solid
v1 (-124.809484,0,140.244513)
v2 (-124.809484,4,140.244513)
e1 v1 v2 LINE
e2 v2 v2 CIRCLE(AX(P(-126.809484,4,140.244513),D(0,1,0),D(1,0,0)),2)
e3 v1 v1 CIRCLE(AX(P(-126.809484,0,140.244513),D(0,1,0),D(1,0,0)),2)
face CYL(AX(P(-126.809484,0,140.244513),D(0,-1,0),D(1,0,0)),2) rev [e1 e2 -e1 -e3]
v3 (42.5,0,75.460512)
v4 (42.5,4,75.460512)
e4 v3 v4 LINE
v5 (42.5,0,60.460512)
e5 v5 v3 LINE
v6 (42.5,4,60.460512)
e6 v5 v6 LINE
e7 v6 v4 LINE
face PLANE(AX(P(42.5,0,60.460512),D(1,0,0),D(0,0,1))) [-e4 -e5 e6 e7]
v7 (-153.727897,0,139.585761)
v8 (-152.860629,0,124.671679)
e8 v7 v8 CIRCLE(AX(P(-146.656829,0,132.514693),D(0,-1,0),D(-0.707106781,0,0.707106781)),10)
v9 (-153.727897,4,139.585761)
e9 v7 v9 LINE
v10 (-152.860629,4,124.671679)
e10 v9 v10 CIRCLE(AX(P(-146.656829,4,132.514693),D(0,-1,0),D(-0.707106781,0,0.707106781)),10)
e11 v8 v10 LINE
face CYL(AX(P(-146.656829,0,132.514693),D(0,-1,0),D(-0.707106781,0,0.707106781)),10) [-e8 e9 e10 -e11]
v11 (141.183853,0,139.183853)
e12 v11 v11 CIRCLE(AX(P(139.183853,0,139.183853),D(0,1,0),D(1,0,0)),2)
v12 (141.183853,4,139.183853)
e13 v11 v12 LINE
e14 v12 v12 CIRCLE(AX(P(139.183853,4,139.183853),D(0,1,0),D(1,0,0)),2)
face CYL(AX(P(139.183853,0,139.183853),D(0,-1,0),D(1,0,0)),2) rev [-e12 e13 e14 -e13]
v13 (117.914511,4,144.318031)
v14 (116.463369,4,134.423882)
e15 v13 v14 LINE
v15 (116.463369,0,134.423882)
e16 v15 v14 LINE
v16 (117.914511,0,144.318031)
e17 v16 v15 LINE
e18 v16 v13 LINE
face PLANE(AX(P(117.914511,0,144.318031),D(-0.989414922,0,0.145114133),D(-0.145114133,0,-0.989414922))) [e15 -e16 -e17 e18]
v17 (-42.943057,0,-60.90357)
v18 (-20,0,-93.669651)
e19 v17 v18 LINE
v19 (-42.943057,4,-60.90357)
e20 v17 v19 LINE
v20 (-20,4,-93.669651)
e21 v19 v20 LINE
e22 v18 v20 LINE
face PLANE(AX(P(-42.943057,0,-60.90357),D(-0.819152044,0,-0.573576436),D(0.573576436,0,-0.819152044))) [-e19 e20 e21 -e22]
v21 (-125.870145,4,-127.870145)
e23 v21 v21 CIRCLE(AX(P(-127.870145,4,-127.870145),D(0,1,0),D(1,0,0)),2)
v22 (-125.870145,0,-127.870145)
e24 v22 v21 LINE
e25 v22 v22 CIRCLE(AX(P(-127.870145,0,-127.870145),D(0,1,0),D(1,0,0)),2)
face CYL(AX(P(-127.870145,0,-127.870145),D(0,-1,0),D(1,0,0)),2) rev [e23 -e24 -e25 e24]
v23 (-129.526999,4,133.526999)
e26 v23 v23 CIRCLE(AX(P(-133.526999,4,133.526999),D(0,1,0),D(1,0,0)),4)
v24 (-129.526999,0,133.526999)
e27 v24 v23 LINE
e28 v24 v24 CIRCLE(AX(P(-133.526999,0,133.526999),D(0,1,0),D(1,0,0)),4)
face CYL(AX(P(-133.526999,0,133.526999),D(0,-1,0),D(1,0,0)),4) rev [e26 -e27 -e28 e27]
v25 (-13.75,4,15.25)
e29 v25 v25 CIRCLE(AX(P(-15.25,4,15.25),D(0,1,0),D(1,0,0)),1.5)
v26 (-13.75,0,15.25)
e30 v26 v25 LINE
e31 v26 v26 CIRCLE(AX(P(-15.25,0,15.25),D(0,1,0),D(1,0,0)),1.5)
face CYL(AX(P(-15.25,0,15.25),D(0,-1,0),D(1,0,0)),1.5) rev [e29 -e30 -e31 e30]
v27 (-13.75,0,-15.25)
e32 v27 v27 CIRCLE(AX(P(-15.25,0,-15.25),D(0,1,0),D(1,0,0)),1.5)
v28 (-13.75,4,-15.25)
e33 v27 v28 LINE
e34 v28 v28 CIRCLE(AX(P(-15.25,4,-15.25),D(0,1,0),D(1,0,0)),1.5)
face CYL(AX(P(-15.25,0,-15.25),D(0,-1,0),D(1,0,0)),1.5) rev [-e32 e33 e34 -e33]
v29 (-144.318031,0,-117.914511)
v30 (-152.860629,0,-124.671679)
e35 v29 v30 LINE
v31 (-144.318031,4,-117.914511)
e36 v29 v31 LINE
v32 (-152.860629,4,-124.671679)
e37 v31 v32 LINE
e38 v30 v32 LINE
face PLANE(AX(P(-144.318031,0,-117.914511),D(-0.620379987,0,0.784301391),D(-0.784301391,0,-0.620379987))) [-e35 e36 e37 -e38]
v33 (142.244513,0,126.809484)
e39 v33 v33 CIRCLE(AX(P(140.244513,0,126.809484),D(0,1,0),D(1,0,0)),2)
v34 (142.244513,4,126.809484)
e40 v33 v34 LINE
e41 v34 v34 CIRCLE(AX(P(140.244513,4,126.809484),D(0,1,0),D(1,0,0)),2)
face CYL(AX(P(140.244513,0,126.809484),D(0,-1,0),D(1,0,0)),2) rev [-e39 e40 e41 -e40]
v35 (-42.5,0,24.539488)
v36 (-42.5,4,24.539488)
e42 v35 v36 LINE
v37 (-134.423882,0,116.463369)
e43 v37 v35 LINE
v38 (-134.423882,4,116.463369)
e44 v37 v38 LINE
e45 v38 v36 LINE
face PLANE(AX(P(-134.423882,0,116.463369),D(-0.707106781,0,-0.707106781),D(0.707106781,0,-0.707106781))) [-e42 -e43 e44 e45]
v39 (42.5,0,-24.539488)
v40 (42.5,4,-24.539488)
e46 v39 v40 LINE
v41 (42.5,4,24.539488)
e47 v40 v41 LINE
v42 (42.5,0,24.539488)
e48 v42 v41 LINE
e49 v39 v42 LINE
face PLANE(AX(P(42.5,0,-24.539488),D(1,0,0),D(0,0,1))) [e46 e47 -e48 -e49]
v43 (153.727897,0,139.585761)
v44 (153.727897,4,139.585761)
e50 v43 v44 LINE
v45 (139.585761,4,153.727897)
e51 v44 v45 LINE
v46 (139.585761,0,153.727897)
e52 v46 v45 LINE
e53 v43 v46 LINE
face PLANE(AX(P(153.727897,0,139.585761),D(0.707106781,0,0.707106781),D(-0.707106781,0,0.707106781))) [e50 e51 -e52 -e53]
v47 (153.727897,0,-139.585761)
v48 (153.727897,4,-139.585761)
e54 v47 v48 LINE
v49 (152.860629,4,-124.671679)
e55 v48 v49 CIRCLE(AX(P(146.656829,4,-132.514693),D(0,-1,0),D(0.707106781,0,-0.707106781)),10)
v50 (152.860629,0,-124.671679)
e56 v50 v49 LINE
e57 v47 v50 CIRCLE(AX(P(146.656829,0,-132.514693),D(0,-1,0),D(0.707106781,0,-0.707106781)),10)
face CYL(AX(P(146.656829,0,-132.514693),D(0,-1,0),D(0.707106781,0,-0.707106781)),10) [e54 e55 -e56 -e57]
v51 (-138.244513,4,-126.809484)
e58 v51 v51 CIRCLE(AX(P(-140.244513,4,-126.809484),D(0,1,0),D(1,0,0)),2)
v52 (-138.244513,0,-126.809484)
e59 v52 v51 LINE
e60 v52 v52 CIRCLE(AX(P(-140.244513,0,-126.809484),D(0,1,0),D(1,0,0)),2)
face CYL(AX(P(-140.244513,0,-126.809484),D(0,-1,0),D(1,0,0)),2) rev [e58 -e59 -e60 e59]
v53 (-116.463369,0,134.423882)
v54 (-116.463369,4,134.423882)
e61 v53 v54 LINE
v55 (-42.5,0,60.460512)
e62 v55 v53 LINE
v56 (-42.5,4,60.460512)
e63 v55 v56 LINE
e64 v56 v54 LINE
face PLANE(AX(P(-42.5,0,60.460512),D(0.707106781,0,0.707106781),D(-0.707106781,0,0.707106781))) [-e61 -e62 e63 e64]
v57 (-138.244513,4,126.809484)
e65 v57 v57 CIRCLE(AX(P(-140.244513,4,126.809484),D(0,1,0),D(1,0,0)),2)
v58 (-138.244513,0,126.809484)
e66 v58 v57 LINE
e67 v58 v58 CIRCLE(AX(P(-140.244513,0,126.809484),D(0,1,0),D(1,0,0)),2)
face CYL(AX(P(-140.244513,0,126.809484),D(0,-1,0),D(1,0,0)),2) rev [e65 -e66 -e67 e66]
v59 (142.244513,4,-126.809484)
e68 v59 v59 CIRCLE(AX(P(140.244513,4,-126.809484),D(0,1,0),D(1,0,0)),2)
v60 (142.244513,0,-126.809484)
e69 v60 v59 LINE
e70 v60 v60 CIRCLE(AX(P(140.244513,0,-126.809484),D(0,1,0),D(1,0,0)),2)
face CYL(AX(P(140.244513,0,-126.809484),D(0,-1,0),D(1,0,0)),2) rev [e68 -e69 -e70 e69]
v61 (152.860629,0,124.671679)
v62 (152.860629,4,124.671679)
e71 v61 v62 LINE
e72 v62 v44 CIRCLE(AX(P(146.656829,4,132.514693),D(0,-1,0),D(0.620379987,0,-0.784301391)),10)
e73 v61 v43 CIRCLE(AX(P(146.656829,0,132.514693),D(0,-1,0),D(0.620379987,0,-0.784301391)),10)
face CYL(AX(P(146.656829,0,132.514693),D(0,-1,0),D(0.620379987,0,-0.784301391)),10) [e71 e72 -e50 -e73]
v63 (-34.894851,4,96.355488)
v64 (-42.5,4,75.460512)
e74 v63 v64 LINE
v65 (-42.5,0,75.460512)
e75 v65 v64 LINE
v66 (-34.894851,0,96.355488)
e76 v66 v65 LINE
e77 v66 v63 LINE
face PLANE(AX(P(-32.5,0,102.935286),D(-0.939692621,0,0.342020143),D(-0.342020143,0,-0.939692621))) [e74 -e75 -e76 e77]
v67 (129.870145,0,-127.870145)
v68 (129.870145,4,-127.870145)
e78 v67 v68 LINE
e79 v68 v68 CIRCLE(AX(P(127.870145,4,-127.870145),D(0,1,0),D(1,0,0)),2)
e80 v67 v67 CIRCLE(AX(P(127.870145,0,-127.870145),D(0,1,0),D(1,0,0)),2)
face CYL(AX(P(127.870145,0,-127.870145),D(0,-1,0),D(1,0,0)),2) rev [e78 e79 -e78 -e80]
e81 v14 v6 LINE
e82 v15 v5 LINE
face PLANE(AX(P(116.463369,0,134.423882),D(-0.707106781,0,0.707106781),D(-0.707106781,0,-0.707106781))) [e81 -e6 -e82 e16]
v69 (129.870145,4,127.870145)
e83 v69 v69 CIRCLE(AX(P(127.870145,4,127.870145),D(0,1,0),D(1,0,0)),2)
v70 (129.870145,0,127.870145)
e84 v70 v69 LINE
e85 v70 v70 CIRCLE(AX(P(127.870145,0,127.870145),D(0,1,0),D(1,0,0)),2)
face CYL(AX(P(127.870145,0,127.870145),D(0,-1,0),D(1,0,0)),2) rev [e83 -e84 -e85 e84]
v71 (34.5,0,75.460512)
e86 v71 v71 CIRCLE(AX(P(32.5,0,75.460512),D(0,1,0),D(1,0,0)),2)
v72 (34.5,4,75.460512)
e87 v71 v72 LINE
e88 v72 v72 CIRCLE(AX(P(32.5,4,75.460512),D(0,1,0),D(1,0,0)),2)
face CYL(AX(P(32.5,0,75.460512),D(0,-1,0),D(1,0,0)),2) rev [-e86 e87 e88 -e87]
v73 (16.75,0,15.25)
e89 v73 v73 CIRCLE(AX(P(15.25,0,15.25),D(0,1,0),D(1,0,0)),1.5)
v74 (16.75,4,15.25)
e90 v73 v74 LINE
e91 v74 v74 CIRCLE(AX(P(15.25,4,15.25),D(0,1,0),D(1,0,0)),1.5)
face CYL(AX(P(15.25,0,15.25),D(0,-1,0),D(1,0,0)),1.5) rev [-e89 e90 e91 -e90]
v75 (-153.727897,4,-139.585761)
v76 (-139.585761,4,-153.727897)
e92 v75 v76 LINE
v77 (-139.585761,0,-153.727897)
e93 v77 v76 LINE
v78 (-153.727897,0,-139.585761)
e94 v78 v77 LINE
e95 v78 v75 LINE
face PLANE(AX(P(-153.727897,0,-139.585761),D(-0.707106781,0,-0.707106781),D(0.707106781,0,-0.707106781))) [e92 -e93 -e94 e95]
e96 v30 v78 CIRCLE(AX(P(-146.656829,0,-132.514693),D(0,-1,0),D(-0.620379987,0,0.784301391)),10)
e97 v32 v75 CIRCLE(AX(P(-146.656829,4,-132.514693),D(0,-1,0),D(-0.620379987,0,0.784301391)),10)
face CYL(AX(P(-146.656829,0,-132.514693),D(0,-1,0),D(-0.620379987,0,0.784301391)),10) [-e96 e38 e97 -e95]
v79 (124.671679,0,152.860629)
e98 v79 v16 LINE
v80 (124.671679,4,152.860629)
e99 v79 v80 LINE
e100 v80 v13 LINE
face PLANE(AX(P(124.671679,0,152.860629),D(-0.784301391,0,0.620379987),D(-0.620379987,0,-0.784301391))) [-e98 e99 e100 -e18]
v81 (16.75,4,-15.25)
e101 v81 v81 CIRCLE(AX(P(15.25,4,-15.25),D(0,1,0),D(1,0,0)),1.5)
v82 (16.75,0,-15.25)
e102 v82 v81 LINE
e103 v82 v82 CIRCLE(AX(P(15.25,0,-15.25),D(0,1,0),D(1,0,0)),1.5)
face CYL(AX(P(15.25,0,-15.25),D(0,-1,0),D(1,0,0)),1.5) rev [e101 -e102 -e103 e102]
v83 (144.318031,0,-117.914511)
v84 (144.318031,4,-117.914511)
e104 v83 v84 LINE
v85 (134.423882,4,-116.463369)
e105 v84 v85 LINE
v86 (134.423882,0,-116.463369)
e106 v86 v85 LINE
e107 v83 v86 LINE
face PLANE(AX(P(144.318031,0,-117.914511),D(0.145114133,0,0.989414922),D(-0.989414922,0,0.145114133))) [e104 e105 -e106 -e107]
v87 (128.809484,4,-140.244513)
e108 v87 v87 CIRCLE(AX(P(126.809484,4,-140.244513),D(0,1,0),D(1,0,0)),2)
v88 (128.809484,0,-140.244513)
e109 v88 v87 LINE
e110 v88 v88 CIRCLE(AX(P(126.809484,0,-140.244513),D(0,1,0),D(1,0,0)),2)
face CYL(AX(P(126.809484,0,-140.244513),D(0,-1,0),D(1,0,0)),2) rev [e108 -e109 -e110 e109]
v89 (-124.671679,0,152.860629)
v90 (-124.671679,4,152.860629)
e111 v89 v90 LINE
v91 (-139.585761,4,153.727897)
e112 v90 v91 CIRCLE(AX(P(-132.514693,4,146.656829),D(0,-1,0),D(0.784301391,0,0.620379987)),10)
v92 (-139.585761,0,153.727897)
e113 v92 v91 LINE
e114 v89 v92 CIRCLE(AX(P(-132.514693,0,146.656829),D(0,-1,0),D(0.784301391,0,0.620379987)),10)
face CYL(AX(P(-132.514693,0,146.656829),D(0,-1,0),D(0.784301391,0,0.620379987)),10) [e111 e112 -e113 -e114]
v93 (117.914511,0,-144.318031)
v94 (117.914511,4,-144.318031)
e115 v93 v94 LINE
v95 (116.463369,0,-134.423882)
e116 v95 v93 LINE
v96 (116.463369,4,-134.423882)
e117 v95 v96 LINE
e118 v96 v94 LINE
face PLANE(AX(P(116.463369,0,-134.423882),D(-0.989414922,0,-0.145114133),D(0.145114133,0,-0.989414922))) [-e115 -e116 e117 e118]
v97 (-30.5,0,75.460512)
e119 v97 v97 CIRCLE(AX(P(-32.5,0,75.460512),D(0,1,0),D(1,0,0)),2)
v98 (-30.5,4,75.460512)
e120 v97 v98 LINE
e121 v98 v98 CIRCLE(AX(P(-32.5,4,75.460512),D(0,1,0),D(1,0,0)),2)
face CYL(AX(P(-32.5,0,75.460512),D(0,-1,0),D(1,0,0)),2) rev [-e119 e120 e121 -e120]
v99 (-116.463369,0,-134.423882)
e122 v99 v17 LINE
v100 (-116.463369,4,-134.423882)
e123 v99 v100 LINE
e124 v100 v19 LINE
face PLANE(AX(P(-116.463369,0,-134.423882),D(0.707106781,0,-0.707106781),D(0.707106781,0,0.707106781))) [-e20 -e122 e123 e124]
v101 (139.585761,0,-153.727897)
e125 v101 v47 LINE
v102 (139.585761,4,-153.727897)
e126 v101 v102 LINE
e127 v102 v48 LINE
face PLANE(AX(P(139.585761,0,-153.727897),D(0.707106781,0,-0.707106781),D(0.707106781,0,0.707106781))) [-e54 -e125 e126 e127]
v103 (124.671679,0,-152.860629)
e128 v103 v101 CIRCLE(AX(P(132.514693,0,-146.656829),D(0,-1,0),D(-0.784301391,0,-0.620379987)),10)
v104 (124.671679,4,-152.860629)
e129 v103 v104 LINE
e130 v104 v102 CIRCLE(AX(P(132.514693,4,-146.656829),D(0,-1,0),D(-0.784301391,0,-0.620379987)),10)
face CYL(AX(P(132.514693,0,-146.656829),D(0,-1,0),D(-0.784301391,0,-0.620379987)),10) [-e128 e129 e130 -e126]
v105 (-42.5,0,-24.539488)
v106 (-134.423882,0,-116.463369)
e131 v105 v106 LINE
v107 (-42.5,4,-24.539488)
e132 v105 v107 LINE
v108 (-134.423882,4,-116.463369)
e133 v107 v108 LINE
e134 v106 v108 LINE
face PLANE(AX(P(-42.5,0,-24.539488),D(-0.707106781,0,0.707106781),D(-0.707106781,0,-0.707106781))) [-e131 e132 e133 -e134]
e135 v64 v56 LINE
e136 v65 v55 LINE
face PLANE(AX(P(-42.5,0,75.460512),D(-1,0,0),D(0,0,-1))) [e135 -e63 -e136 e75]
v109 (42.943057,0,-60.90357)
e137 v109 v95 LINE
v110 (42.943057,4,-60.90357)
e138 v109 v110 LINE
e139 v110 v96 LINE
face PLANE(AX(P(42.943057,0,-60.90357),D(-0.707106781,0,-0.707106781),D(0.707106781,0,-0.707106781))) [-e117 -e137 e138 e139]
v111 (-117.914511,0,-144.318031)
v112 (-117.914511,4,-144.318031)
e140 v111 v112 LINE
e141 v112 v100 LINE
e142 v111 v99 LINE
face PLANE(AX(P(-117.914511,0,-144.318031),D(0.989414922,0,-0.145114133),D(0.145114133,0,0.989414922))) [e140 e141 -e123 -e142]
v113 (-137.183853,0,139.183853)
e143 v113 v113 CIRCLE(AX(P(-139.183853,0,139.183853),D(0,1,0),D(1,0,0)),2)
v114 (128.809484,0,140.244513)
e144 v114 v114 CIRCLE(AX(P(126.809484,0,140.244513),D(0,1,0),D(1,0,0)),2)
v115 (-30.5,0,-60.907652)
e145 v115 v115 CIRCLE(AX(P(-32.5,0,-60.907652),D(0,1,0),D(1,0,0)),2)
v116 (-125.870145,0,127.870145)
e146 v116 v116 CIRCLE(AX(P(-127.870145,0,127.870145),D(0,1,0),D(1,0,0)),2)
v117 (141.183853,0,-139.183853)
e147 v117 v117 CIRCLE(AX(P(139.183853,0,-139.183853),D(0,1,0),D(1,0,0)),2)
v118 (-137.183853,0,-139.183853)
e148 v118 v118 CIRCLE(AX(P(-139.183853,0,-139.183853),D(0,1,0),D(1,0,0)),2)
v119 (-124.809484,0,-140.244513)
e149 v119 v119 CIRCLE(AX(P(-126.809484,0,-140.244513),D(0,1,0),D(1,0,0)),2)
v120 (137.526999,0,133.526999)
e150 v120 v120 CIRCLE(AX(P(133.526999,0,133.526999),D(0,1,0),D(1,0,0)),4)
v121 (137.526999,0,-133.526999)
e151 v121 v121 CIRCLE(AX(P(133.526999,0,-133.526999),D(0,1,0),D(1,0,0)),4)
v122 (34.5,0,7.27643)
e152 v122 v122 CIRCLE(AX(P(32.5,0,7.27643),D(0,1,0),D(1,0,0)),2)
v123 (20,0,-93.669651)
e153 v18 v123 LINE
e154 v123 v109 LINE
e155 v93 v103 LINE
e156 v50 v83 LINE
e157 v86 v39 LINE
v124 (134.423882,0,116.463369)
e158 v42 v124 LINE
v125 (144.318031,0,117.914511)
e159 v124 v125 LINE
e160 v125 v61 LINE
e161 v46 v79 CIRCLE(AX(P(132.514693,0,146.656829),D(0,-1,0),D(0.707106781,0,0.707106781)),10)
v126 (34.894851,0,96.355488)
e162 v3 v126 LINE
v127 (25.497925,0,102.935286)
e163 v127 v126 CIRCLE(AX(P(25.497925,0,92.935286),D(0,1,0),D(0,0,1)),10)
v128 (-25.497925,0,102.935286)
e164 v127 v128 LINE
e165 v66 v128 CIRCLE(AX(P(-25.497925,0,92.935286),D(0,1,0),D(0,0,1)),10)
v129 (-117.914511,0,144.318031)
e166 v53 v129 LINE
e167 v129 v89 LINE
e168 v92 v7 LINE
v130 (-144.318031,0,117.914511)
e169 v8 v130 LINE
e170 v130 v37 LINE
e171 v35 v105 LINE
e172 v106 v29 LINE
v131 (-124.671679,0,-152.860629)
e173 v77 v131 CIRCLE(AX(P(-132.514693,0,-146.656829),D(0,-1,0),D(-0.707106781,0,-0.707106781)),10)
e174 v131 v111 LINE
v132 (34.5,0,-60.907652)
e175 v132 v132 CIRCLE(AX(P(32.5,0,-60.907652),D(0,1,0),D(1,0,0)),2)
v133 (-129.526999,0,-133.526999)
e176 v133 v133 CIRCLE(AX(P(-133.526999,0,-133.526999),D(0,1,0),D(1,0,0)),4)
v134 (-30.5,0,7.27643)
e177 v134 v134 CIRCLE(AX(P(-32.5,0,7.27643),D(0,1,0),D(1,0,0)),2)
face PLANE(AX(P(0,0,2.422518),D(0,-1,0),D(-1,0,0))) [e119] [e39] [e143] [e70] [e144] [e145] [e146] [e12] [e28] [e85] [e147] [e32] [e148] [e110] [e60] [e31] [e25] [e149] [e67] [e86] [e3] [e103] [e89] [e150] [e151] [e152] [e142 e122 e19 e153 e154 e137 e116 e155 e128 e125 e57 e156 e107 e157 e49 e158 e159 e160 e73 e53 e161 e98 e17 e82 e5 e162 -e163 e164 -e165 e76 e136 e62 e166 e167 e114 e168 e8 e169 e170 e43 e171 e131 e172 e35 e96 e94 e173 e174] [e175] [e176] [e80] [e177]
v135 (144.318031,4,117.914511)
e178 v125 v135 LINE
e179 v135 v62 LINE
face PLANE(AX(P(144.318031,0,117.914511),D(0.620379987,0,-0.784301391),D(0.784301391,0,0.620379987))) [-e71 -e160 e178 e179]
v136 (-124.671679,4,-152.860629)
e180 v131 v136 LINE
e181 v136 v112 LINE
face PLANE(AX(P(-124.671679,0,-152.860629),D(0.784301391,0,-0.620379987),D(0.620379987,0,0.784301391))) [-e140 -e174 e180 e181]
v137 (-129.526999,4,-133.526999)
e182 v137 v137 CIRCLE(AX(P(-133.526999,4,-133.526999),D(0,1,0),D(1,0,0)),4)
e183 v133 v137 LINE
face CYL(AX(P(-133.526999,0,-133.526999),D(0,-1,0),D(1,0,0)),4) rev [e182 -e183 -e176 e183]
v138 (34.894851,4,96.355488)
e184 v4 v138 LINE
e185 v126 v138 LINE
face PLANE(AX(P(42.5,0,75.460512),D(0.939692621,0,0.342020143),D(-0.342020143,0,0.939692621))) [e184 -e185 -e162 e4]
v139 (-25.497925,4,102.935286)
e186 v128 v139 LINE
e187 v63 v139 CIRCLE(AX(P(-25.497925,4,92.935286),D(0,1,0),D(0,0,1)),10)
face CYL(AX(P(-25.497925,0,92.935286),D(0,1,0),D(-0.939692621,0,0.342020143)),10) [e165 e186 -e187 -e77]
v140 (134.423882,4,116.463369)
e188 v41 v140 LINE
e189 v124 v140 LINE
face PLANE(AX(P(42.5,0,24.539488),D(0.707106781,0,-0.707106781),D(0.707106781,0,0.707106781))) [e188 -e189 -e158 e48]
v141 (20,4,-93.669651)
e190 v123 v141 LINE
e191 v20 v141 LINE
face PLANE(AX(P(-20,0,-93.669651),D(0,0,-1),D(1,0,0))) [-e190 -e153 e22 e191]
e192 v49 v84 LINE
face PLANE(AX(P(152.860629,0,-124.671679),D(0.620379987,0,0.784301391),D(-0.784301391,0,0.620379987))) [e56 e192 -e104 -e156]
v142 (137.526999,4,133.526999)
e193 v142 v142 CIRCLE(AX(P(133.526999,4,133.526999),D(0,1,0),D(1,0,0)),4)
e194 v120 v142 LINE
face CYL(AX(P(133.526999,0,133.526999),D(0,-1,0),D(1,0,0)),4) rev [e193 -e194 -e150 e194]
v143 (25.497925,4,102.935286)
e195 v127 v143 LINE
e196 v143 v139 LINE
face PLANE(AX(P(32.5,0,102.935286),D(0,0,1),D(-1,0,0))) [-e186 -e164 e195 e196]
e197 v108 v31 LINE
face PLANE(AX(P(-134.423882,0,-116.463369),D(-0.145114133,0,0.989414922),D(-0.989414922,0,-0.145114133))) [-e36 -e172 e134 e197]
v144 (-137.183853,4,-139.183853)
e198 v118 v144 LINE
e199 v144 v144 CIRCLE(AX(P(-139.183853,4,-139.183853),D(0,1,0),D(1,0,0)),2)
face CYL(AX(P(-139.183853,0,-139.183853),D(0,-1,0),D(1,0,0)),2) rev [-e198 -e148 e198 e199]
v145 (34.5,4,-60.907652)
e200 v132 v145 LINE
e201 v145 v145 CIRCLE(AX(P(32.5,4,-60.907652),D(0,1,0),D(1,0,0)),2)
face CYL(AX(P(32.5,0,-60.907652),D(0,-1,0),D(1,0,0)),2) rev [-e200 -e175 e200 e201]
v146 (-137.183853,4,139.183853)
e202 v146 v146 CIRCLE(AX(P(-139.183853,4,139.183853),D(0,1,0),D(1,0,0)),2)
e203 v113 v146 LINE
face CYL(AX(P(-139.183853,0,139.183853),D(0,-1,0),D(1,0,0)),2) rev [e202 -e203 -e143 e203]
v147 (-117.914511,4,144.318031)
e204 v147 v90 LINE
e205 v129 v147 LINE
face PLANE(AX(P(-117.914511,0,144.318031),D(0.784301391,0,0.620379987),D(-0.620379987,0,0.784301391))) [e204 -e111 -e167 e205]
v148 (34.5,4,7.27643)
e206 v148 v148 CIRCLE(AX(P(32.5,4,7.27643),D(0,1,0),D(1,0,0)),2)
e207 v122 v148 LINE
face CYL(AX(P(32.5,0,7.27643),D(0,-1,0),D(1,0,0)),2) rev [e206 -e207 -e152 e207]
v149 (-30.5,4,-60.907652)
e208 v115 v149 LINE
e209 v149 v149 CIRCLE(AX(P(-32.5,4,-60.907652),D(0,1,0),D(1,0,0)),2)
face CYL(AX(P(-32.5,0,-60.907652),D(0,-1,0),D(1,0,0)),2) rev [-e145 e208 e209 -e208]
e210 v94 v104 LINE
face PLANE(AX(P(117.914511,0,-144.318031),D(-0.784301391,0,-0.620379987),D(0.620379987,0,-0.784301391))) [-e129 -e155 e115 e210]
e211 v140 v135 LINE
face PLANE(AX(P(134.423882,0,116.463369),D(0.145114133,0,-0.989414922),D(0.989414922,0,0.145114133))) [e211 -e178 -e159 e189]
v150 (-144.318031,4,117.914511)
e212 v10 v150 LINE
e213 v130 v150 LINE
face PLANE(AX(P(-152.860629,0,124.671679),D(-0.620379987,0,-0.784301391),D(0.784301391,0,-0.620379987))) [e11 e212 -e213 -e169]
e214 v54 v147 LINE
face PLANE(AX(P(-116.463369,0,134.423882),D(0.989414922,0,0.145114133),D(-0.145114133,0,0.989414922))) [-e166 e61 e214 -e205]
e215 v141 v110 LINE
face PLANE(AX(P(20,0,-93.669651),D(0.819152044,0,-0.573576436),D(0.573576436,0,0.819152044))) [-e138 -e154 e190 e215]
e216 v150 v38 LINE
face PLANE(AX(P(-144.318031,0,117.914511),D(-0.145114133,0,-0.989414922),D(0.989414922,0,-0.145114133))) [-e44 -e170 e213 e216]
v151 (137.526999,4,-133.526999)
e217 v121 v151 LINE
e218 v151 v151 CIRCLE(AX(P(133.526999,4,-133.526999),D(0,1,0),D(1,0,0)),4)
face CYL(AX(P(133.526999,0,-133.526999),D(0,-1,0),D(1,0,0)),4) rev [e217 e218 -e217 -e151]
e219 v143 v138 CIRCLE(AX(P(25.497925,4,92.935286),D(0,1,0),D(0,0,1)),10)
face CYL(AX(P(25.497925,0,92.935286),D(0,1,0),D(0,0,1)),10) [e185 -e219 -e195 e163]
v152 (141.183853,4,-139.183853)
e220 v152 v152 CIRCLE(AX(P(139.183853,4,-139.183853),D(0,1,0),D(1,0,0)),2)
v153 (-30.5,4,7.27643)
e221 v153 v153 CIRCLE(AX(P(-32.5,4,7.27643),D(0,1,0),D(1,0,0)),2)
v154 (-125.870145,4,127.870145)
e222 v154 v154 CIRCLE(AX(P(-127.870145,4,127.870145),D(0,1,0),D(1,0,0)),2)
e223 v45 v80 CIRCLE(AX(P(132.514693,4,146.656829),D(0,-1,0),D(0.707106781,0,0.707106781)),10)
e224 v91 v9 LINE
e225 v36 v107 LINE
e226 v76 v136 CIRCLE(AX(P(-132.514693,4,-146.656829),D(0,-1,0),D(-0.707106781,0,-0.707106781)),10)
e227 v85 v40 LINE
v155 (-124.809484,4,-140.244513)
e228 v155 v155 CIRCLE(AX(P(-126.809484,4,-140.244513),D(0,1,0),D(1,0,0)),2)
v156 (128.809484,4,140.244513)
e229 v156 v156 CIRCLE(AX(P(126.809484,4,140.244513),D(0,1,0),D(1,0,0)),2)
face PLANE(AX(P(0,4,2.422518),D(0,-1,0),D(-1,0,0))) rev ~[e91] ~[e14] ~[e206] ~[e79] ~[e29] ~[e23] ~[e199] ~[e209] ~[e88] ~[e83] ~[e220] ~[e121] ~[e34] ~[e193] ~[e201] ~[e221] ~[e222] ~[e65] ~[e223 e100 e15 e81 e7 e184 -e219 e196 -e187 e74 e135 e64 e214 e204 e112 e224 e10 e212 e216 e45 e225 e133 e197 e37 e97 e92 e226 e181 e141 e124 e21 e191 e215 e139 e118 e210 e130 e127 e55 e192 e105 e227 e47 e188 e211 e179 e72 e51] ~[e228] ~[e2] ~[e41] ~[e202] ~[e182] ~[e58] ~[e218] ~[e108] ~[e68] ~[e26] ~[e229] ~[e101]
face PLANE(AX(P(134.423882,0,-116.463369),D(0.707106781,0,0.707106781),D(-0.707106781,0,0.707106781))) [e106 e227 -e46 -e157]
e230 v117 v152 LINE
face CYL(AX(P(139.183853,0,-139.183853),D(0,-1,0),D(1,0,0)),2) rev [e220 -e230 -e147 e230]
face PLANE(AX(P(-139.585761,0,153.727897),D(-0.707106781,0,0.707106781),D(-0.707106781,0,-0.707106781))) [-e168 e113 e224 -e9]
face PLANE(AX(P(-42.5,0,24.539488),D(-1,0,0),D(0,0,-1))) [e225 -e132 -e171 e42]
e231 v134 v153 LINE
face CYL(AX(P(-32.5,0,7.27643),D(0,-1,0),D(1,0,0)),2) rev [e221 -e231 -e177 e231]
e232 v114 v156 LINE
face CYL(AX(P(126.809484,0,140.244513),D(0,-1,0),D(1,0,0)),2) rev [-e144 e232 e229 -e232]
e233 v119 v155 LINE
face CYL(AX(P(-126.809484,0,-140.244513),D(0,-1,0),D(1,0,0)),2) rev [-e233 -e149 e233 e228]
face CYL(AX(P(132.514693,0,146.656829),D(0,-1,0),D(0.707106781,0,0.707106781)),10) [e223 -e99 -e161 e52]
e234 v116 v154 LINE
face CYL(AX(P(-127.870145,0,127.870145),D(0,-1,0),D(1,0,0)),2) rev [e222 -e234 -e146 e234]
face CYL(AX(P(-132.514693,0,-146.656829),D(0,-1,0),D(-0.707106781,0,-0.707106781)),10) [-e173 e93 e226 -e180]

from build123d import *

# Parameters (mm, degrees)
CROQUIS1_R              = 2
CROQUIS1_R_2            = 4
CROQUIS1_R_3            = 1.5
SALIENTE_EXTRUIR1_DEPTH = 4
REDONDEO1_R             = 10


with BuildPart() as part:
    # Croquis1 → Saliente-Extruir1 (new body)
    with BuildSketch(Plane(origin=(0, 0, 0), x_dir=(1, 0, 0), z_dir=(0, 1, 0))):
        with BuildLine():
            Line((-42.5, 24.539487758), (-134.423881554, 116.463369312))
            Line((-134.423881554, 116.463369312), (-144.318030777, 117.91451064))
            Line((-144.318030777, 117.91451064), (-152.860628735, 124.671679333))
            ThreePointArc((-152.860628735, 124.671679333), (-156.639963967, 131.934164505), (-153.727896681, 139.585761057))
            Line((-153.727896681, 139.585761057), (-139.585761057, 153.727896681))
            ThreePointArc((-139.585761057, 153.727896681), (-131.934164505, 156.639963967), (-124.671679333, 152.860628735))
            Line((-124.671679333, 152.860628735), (-117.91451064, 144.318030777))
            Line((-117.91451064, 144.318030777), (-116.463369312, 134.423881554))
            Line((-116.463369312, 134.423881554), (-42.943057454, 60.903569696))
            Line((-42.943057454, 60.903569696), (-20, 93.669651468))
            Line((-20, 93.669651468), (20, 93.669651468))
            Line((20, 93.669651468), (42.943057454, 60.903569696))
            Line((42.943057454, 60.903569696), (116.463369312, 134.423881554))
            Line((116.463369312, 134.423881554), (117.91451064, 144.318030777))
            Line((117.91451064, 144.318030777), (124.671679333, 152.860628735))
            ThreePointArc((124.671679333, 152.860628735), (131.934164505, 156.639963967), (139.585761057, 153.727896681))
            Line((139.585761057, 153.727896681), (153.727896681, 139.585761057))
            ThreePointArc((153.727896681, 139.585761057), (156.639963967, 131.934164505), (152.860628735, 124.671679333))
            Line((152.860628735, 124.671679333), (144.318030777, 117.91451064))
            Line((144.318030777, 117.91451064), (134.423881554, 116.463369312))
            Line((134.423881554, 116.463369312), (42.5, 24.539487758))
            Line((42.5, 24.539487758), (42.5, -24.539487758))
            Line((42.5, -24.539487758), (134.423881554, -116.463369312))
            Line((134.423881554, -116.463369312), (144.318030777, -117.91451064))
            Line((144.318030777, -117.91451064), (152.860628735, -124.671679333))
            ThreePointArc((152.860628735, -124.671679333), (156.639963967, -131.934164505), (153.727896681, -139.585761057))
            Line((153.727896681, -139.585761057), (139.585761057, -153.727896681))
            ThreePointArc((139.585761057, -153.727896681), (131.934164505, -156.639963967), (124.671679333, -152.860628735))
            Line((124.671679333, -152.860628735), (117.91451064, -144.318030777))
            Line((117.91451064, -144.318030777), (116.463369312, -134.423881554))
            Line((116.463369312, -134.423881554), (42.5, -60.460512242))
            Line((42.5, -60.460512242), (42.5, -75.460512242))
            Line((42.5, -75.460512242), (32.5, -102.935286437))
            Line((32.5, -102.935286437), (-32.5, -102.935286437))
            Line((-32.5, -102.935286437), (-42.5, -75.460512242))
            Line((-42.5, -75.460512242), (-42.5, -60.460512242))
            Line((-42.5, -60.460512242), (-116.463369312, -134.423881554))
            Line((-116.463369312, -134.423881554), (-117.91451064, -144.318030777))
            Line((-117.91451064, -144.318030777), (-124.671679333, -152.860628735))
            ThreePointArc((-124.671679333, -152.860628735), (-131.934164505, -156.639963967), (-139.585761057, -153.727896681))
            Line((-139.585761057, -153.727896681), (-153.727896681, -139.585761057))
            ThreePointArc((-153.727896681, -139.585761057), (-156.639963967, -131.934164505), (-152.860628735, -124.671679333))
            Line((-152.860628735, -124.671679333), (-144.318030777, -117.91451064))
            Line((-144.318030777, -117.91451064), (-134.423881554, -116.463369312))
            Line((-134.423881554, -116.463369312), (-42.5, -24.539487758))
            Line((-42.5, -24.539487758), (-42.5, 24.539487758))
        make_face()
        with Locations((-127.870144559, 127.870144559)):
            Circle(CROQUIS1_R, mode=Mode.SUBTRACT)
        with Locations((-126.809484388, 140.24451323)):
            Circle(CROQUIS1_R, mode=Mode.SUBTRACT)
        with Locations((-140.24451323, 126.809484388)):
            Circle(CROQUIS1_R, mode=Mode.SUBTRACT)
        with Locations((-139.183853058, 139.183853058)):
            Circle(CROQUIS1_R, mode=Mode.SUBTRACT)
        with Locations((140.24451323, 126.809484388)):
            Circle(CROQUIS1_R, mode=Mode.SUBTRACT)
        with Locations((127.870144559, 127.870144559)):
            Circle(CROQUIS1_R, mode=Mode.SUBTRACT)
        with Locations((126.809484388, 140.24451323)):
            Circle(CROQUIS1_R, mode=Mode.SUBTRACT)
        with Locations((139.183853058, 139.183853058)):
            Circle(CROQUIS1_R, mode=Mode.SUBTRACT)
        with Locations((126.809484388, -140.24451323)):
            Circle(CROQUIS1_R, mode=Mode.SUBTRACT)
        with Locations((127.870144559, -127.870144559)):
            Circle(CROQUIS1_R, mode=Mode.SUBTRACT)
        with Locations((140.24451323, -126.809484388)):
            Circle(CROQUIS1_R, mode=Mode.SUBTRACT)
        with Locations((139.183853058, -139.183853058)):
            Circle(CROQUIS1_R, mode=Mode.SUBTRACT)
        with Locations((-140.24451323, -126.809484388)):
            Circle(CROQUIS1_R, mode=Mode.SUBTRACT)
        with Locations((-127.870144559, -127.870144559)):
            Circle(CROQUIS1_R, mode=Mode.SUBTRACT)
        with Locations((-126.809484388, -140.24451323)):
            Circle(CROQUIS1_R, mode=Mode.SUBTRACT)
        with Locations((-139.183853058, -139.183853058)):
            Circle(CROQUIS1_R, mode=Mode.SUBTRACT)
        with Locations((32.5, -75.460512242)):
            Circle(CROQUIS1_R, mode=Mode.SUBTRACT)
        with Locations((-32.5, -75.460512242)):
            Circle(CROQUIS1_R, mode=Mode.SUBTRACT)
        with Locations((-32.5, 60.907651634)):
            Circle(CROQUIS1_R, mode=Mode.SUBTRACT)
        with Locations((32.5, 60.907651634)):
            Circle(CROQUIS1_R, mode=Mode.SUBTRACT)
        with Locations((-32.5, -7.276430304)):
            Circle(CROQUIS1_R, mode=Mode.SUBTRACT)
        with Locations((32.5, -7.276430304)):
            Circle(CROQUIS1_R, mode=Mode.SUBTRACT)
        with Locations((-133.526998809, 133.526998809)):
            Circle(CROQUIS1_R_2, mode=Mode.SUBTRACT)
        with Locations((133.526998809, 133.526998809)):
            Circle(CROQUIS1_R_2, mode=Mode.SUBTRACT)
        with Locations((133.526998809, -133.526998809)):
            Circle(CROQUIS1_R_2, mode=Mode.SUBTRACT)
        with Locations((-133.526998809, -133.526998809)):
            Circle(CROQUIS1_R_2, mode=Mode.SUBTRACT)
        with Locations((15.25, 15.25)):
            Circle(CROQUIS1_R_3, mode=Mode.SUBTRACT)
        with Locations((15.25, -15.25)):
            Circle(CROQUIS1_R_3, mode=Mode.SUBTRACT)
        with Locations((-15.25, -15.25)):
            Circle(CROQUIS1_R_3, mode=Mode.SUBTRACT)
        with Locations((-15.25, 15.25)):
            Circle(CROQUIS1_R_3, mode=Mode.SUBTRACT)
    extrude(amount=SALIENTE_EXTRUIR1_DEPTH)

    # Redondeo1
    redondeo1_edges = [part.edges().sort_by_distance(p)[0] for p in [
        (32.5, 2, 102.935286437),
        (-32.5, 2, 102.935286437),
    ]]
    fillet(redondeo1_edges, radius=REDONDEO1_R)


solid = part.part
